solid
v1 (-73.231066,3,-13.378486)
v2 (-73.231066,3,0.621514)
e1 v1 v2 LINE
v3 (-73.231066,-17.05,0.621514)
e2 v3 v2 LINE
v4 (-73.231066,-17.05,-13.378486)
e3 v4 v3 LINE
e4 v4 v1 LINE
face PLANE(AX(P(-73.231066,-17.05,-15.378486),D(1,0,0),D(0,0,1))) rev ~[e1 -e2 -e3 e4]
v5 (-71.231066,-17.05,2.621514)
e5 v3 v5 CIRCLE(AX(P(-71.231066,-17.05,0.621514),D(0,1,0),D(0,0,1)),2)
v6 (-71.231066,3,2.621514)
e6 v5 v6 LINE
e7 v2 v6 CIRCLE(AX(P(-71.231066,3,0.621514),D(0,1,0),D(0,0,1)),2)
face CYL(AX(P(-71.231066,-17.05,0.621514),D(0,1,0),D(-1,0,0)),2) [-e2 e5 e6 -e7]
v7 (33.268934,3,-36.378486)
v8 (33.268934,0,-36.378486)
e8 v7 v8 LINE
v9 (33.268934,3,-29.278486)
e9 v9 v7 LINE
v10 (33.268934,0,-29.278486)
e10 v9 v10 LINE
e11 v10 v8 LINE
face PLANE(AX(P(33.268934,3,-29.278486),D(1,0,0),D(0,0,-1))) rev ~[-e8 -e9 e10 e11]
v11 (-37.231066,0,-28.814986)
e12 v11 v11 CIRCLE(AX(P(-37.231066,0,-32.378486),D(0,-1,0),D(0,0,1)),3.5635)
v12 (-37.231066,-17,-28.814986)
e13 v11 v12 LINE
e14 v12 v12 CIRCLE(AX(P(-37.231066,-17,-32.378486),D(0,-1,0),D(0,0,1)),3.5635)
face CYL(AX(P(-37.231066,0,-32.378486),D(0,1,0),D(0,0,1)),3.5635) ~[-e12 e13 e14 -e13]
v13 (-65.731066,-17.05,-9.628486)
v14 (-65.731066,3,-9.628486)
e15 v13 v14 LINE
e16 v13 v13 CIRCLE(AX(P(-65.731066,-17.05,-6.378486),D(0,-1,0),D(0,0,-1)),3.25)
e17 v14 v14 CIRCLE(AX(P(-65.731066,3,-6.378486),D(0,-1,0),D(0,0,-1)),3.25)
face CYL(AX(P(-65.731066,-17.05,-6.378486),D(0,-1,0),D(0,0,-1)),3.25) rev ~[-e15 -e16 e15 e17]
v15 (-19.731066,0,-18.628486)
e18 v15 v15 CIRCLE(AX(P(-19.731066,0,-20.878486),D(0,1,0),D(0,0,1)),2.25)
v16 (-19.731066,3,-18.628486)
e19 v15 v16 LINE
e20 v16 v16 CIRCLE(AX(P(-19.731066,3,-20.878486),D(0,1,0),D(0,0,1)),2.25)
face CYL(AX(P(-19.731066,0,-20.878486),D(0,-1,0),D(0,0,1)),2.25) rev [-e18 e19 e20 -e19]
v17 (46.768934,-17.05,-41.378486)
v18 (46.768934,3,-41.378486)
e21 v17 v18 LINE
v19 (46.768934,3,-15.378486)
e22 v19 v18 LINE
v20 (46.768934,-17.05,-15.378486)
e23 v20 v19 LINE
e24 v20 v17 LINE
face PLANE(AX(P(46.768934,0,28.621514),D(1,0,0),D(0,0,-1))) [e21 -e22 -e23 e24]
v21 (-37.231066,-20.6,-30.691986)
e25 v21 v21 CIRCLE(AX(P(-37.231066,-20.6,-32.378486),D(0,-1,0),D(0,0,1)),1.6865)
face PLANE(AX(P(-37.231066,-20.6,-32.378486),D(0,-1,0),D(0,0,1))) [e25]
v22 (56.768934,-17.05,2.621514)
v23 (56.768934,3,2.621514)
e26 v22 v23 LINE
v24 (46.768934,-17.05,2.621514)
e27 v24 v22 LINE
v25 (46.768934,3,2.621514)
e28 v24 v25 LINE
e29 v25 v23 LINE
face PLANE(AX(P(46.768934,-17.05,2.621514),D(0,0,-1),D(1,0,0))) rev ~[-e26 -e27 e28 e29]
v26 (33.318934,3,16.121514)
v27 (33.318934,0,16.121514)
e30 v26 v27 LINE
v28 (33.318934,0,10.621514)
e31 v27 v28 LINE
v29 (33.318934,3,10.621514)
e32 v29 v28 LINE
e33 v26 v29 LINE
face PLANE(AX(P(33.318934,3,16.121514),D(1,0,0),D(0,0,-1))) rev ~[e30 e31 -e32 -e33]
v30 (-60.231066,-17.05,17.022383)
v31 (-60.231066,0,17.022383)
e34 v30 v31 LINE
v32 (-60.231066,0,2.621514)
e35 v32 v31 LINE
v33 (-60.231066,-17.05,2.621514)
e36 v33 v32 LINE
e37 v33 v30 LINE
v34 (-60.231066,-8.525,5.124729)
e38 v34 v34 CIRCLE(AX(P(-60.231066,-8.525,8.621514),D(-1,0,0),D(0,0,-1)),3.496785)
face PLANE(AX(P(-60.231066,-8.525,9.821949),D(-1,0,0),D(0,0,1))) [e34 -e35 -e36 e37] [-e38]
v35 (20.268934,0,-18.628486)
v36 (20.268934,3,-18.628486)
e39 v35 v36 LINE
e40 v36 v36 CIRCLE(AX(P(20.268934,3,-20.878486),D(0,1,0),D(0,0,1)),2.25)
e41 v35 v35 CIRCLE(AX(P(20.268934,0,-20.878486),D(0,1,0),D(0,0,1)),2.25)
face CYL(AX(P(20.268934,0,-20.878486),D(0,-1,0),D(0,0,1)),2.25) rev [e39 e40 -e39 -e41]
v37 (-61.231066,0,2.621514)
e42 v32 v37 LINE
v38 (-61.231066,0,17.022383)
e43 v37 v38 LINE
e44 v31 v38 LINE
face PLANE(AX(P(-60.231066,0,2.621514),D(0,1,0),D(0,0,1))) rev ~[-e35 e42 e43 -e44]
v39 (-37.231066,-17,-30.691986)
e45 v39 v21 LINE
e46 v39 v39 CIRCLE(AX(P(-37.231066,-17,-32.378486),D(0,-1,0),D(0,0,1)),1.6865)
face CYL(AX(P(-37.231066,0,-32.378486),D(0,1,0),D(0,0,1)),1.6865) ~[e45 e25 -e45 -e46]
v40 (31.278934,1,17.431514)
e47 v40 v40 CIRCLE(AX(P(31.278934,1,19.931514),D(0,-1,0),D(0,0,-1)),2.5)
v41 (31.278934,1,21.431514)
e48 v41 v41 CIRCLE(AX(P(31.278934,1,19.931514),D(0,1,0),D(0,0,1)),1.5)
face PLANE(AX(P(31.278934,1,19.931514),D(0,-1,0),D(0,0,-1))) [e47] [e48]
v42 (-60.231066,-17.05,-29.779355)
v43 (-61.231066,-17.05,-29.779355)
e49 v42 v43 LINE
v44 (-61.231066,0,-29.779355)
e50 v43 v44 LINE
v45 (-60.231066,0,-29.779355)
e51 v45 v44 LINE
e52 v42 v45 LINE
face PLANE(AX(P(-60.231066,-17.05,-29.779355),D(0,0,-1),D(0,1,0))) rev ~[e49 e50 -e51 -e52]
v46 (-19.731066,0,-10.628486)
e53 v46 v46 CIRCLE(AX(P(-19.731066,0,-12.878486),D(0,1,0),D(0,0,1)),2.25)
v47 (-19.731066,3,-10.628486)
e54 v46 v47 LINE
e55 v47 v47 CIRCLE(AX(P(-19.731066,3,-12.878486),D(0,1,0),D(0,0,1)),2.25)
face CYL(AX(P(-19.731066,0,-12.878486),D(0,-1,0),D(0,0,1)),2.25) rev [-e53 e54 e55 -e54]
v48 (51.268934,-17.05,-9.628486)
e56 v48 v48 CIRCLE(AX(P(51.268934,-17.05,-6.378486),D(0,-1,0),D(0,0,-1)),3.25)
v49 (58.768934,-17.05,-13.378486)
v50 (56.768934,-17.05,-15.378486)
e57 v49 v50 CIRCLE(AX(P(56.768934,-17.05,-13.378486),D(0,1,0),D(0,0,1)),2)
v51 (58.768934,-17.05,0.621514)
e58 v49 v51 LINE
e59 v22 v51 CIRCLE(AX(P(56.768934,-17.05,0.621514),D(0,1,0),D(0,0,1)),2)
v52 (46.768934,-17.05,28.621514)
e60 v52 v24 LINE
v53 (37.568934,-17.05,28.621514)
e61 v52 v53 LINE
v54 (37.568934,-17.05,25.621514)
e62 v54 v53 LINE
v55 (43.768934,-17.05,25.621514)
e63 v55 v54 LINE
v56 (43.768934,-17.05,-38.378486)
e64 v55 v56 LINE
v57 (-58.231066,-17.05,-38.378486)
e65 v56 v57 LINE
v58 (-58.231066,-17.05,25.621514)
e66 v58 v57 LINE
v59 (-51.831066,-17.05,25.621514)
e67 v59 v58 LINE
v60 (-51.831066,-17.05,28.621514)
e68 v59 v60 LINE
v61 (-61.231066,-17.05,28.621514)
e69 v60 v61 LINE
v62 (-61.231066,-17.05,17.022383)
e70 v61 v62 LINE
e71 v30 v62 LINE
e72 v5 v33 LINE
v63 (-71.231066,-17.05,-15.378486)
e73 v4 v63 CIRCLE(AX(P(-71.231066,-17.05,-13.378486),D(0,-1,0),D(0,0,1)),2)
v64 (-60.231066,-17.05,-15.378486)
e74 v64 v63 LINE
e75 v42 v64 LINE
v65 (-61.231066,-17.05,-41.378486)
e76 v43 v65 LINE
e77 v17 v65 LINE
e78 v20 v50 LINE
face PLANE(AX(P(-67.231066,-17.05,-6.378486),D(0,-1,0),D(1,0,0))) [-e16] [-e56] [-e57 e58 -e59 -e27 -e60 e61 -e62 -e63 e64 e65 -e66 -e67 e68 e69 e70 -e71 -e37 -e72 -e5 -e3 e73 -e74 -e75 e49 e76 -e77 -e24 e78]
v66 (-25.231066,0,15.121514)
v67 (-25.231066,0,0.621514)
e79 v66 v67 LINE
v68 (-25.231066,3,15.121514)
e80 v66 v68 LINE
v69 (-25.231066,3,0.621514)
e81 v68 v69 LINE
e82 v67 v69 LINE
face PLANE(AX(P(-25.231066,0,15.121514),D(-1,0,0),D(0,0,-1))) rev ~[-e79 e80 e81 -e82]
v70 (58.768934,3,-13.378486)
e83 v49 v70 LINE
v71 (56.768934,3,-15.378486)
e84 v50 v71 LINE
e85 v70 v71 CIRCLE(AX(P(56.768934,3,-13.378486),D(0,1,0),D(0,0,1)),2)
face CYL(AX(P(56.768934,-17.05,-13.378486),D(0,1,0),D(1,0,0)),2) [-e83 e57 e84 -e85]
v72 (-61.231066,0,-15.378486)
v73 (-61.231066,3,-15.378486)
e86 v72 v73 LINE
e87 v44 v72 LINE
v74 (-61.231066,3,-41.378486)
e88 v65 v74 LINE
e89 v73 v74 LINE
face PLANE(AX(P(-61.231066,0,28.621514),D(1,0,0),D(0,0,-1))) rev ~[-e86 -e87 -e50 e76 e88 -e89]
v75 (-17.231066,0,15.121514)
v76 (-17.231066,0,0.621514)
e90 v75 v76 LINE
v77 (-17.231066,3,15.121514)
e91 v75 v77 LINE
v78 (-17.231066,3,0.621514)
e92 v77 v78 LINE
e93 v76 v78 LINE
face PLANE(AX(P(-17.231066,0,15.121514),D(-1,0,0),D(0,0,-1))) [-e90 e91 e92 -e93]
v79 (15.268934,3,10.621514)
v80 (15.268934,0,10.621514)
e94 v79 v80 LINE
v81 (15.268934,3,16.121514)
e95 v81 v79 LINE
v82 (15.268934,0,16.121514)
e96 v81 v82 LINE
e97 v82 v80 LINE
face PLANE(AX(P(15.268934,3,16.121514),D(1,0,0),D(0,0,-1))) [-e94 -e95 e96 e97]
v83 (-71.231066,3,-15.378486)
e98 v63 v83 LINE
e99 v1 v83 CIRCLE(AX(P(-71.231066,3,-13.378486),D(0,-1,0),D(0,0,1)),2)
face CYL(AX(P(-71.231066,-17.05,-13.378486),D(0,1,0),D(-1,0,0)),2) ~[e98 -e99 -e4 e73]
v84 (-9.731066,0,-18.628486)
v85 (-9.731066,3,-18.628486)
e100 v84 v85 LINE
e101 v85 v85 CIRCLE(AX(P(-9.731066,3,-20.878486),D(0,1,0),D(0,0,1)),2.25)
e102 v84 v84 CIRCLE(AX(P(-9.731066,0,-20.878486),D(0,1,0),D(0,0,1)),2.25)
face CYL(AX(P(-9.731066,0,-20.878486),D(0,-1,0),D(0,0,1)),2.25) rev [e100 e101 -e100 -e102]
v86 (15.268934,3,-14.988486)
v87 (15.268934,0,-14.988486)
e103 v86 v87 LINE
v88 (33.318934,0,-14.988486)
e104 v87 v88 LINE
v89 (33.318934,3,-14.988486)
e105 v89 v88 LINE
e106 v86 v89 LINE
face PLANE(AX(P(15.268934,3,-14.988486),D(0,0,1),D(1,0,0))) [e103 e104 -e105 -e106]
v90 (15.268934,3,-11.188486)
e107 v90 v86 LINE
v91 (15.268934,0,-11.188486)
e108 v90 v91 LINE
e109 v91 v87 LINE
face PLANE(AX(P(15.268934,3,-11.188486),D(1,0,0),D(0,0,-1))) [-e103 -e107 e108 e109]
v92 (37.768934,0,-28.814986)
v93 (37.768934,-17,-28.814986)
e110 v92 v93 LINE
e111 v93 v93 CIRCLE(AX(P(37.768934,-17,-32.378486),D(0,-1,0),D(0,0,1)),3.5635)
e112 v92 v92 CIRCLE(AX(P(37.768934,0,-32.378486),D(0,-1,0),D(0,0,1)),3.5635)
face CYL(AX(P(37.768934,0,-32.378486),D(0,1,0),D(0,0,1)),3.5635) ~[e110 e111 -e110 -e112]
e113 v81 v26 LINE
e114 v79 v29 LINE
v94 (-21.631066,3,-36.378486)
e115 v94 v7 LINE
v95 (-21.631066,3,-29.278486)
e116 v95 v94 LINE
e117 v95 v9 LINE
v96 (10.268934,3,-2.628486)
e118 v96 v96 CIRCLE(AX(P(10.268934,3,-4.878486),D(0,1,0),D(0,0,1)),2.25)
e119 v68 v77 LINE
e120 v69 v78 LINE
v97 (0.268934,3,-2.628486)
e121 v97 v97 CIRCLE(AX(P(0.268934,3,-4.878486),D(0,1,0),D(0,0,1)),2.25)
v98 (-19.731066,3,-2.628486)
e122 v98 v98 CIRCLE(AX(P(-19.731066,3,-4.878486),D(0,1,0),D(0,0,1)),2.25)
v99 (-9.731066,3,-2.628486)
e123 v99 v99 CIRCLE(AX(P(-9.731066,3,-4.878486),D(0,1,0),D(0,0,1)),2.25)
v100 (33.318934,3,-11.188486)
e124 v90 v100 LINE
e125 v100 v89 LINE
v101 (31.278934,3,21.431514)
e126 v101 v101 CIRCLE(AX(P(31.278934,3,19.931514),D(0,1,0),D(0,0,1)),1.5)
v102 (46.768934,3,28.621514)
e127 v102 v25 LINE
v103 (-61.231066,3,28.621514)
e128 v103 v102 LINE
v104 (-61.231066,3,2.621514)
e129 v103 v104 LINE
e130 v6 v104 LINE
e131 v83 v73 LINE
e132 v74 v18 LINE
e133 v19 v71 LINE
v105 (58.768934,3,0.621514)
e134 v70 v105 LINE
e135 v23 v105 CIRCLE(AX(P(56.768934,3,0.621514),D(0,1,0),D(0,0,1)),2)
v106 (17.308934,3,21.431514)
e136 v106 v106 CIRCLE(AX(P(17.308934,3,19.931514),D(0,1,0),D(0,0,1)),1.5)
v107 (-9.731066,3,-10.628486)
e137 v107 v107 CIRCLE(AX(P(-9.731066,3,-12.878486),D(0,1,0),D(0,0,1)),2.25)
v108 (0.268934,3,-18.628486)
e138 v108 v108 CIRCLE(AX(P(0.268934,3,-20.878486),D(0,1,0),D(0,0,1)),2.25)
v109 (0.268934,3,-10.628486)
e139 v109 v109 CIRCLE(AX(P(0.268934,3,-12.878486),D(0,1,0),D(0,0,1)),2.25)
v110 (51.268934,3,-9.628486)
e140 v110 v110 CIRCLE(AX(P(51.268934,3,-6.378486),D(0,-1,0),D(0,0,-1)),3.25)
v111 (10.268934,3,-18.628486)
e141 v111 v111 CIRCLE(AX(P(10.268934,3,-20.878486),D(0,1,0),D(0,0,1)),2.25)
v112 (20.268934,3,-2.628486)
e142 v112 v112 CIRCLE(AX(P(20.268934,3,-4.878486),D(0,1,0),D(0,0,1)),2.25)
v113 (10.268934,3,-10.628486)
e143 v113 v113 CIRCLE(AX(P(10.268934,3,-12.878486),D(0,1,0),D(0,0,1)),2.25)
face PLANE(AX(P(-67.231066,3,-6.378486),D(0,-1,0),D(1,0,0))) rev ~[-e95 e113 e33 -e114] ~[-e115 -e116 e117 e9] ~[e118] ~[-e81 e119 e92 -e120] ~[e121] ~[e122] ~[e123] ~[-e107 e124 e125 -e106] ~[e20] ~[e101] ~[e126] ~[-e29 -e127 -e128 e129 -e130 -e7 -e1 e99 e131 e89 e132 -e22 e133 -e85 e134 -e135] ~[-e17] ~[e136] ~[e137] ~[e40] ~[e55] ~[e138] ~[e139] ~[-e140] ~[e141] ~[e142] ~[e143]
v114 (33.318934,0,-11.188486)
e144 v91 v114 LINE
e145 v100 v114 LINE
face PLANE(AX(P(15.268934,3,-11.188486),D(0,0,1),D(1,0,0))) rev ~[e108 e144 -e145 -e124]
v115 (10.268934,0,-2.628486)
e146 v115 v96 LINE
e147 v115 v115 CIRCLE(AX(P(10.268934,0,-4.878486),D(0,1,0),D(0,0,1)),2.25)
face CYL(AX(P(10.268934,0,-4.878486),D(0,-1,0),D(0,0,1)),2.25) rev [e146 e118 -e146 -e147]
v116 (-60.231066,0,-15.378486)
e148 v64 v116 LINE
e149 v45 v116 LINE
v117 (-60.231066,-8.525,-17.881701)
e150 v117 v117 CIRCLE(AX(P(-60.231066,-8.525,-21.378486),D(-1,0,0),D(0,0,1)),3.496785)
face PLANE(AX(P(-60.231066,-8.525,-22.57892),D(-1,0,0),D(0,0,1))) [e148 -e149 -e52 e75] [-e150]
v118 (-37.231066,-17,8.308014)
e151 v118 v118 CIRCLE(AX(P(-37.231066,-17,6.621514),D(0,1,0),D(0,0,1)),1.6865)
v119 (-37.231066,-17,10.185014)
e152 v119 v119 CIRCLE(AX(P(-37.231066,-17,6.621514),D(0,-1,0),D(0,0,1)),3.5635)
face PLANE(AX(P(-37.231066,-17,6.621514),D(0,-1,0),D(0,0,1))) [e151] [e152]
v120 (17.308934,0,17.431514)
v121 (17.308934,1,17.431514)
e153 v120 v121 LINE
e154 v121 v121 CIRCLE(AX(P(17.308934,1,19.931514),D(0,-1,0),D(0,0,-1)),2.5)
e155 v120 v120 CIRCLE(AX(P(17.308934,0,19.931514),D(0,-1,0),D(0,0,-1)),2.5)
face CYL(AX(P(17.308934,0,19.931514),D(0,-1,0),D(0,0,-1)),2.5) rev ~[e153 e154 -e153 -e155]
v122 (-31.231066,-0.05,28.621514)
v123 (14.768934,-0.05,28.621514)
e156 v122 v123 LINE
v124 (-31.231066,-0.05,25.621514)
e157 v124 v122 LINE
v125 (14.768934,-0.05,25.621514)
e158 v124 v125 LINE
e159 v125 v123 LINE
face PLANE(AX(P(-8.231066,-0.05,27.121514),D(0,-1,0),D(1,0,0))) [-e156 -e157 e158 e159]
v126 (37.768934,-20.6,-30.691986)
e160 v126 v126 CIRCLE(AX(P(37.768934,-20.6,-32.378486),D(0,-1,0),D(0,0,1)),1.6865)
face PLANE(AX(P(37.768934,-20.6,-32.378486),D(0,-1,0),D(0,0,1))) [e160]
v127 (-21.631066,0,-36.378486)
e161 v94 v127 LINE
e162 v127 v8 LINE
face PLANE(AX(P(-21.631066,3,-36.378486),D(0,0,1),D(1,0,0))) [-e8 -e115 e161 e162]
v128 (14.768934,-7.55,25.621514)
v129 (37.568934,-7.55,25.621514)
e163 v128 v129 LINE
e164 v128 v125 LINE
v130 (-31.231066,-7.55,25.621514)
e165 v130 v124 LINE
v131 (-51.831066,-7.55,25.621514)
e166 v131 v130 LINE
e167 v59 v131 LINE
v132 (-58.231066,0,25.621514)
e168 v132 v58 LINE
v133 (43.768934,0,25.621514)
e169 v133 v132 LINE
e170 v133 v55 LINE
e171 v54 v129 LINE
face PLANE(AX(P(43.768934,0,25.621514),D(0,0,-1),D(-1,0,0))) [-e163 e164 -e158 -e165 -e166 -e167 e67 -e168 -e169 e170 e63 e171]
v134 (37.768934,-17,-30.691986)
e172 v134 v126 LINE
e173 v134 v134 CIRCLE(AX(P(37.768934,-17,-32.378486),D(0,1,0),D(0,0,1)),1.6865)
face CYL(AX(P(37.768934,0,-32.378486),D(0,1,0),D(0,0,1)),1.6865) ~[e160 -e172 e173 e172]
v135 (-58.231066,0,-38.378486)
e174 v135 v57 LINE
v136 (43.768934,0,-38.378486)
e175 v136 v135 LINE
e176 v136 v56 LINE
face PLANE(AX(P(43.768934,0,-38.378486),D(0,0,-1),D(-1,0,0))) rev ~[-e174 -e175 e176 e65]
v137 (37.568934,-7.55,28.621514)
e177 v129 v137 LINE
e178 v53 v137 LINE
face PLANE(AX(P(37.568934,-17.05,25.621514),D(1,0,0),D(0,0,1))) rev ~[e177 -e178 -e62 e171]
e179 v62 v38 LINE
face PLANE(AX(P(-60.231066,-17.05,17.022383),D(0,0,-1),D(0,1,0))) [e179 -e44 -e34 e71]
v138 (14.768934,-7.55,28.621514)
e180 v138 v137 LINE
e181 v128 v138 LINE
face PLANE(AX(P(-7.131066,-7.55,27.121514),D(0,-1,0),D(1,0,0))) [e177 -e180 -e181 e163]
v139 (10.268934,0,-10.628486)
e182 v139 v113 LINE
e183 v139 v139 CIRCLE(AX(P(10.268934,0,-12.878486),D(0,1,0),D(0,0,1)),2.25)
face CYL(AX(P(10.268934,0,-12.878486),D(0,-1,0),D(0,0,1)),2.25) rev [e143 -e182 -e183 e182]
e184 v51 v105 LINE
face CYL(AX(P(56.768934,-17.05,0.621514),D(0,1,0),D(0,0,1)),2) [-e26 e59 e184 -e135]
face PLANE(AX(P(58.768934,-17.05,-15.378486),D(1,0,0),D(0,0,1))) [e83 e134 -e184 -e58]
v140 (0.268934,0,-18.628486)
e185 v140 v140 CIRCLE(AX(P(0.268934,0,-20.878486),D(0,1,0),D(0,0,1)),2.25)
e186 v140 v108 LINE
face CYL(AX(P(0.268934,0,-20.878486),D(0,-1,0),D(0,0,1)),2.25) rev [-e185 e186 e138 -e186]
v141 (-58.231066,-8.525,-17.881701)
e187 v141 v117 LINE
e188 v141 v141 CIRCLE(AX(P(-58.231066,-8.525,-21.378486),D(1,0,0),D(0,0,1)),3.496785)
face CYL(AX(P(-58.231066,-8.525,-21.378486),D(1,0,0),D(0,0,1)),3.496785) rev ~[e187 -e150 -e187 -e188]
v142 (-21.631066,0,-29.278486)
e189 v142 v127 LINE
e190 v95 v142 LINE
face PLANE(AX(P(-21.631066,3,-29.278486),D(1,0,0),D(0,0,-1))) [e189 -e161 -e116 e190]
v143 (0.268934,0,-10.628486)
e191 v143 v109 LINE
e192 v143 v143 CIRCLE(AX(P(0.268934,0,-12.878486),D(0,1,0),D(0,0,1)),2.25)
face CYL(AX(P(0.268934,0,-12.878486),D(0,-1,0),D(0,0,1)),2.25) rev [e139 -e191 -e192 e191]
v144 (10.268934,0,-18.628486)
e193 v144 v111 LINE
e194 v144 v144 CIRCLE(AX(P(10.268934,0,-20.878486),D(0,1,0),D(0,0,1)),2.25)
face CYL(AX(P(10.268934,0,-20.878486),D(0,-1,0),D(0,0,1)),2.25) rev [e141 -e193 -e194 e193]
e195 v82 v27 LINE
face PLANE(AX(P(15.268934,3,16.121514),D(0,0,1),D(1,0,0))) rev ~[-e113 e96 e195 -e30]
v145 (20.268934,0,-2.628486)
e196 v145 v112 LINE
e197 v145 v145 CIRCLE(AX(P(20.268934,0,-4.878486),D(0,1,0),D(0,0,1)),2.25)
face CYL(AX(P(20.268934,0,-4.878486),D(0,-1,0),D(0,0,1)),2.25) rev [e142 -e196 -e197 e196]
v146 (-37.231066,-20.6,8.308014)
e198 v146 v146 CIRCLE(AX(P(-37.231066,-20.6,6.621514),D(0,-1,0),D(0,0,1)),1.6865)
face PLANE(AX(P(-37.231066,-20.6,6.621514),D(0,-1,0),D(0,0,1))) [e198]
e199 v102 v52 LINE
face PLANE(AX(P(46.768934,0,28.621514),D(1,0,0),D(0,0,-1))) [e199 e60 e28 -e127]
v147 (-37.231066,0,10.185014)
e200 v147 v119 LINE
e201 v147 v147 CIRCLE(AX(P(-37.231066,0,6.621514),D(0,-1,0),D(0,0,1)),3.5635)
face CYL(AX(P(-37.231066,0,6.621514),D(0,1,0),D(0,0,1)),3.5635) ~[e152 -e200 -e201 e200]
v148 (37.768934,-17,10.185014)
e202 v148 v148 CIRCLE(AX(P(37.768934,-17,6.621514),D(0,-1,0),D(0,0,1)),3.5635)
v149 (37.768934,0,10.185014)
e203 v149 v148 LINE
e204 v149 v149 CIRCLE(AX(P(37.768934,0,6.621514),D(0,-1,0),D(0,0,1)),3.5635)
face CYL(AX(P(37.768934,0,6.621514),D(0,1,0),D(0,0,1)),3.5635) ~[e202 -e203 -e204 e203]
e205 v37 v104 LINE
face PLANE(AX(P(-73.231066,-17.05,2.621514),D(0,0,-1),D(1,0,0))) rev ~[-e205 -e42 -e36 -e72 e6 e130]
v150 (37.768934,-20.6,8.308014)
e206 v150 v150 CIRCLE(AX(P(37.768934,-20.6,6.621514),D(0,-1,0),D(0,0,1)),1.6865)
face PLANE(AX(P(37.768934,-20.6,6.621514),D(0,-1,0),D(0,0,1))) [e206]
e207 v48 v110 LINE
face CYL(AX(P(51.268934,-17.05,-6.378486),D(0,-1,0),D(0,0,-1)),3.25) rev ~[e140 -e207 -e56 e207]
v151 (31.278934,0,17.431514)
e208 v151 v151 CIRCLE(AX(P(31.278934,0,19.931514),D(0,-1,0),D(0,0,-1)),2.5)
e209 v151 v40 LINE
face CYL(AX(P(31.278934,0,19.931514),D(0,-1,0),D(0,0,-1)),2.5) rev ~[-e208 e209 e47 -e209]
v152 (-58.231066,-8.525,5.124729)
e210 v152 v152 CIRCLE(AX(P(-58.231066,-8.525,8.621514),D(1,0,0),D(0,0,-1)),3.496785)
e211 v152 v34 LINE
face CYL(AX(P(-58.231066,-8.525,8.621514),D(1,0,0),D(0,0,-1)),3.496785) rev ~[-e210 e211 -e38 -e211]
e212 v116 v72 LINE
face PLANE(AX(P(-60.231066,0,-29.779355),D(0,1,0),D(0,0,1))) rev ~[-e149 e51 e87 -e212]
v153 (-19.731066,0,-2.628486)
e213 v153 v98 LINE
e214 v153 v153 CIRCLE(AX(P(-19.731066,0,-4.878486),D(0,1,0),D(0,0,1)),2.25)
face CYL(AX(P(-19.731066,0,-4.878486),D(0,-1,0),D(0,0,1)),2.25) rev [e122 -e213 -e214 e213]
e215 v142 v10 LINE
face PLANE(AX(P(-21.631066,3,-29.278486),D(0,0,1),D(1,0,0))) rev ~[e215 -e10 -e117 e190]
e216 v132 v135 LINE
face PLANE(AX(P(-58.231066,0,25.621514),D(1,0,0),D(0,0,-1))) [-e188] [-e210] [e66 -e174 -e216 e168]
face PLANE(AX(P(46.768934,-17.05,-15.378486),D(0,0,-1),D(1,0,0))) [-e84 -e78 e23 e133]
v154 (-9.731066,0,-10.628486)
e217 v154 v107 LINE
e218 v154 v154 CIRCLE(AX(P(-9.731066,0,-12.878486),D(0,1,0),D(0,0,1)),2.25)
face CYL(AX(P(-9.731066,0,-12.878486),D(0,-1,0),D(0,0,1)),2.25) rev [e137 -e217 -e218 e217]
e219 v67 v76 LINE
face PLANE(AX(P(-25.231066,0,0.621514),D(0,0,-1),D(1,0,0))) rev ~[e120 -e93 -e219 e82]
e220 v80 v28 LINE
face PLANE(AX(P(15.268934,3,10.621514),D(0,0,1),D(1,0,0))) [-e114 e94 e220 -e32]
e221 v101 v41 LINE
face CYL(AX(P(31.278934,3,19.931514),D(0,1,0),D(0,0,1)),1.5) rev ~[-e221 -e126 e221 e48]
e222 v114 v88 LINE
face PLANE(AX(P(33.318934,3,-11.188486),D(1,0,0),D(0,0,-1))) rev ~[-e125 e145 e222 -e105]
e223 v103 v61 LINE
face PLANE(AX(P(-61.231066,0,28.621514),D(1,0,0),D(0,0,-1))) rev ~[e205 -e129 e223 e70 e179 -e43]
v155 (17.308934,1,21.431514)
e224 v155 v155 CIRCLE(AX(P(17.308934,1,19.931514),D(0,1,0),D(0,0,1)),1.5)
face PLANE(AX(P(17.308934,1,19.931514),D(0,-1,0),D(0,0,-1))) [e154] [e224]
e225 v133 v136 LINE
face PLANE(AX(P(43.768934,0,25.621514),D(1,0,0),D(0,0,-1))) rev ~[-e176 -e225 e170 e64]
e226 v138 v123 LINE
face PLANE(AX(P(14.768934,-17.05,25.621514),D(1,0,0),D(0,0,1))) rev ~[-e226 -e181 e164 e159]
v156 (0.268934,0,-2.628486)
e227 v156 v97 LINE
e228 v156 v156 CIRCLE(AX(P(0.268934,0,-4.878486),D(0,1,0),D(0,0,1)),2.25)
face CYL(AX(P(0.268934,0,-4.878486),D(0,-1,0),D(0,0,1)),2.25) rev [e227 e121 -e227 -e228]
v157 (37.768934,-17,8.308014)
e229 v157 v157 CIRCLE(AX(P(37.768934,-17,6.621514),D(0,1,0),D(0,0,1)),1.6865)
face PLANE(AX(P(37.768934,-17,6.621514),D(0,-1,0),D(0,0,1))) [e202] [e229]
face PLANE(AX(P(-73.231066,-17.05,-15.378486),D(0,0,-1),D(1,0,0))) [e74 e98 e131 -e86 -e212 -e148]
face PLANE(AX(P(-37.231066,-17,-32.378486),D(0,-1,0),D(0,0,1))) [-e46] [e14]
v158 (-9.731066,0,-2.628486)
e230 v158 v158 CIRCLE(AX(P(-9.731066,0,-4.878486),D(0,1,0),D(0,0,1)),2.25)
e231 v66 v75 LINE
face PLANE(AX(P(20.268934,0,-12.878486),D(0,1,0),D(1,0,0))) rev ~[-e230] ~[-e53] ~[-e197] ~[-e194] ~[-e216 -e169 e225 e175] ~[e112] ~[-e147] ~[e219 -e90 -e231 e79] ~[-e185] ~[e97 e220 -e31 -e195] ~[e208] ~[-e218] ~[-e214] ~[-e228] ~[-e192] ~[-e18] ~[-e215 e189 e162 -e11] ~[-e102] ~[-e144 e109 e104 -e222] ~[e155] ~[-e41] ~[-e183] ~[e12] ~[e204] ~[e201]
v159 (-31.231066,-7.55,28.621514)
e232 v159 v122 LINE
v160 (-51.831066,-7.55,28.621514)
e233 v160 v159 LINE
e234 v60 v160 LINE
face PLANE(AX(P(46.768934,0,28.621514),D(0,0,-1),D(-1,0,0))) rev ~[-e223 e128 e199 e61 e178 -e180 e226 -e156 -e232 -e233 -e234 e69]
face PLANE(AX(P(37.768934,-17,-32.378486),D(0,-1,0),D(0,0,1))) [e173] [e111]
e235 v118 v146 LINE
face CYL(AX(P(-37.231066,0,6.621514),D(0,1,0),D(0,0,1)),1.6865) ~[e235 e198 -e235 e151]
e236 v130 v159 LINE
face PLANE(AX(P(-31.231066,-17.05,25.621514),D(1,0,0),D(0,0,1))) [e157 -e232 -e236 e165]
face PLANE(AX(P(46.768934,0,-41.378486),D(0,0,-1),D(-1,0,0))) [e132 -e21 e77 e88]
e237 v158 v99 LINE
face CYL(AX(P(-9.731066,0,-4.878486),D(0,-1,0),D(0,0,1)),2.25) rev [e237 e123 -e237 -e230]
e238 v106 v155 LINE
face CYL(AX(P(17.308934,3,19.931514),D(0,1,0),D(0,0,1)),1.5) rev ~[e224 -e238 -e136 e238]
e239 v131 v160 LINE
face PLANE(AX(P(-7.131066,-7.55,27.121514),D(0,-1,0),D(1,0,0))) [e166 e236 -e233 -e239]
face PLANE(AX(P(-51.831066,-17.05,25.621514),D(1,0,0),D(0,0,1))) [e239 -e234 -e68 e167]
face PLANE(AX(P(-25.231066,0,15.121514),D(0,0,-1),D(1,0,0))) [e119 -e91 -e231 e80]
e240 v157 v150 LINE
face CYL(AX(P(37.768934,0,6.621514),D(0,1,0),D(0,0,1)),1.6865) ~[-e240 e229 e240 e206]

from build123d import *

# Parameters (mm, degrees)
SKETCH2_W           = 108
SKETCH2_H           = 70
SKETCH2_R           = 2.25
SKETCH2_W_2         = 8
SKETCH2_H_2         = 14.5
BOSS_EXTRUDE1_DEPTH = 3
SKETCH5_R           = 3.5635
SKETCH5_R_2         = 1.6865
BOSS_EXTRUDE2_DEPTH = 17
SKETCH6_R           = 1.6865
BOSS_EXTRUDE3_DEPTH = 20.6
SKETCH7_W           = 108
SKETCH7_H           = 70
SKETCH7_W_2         = 102
SKETCH7_H_2         = 64
BOSS_EXTRUDE4_DEPTH = 17.05
SKETCH8_W           = 89.4
SKETCH8_H           = 3
CUT_EXTRUDE1_DEPTH  = 9.5
SKETCH9_W           = 46
SKETCH9_H           = 3
CUT_EXTRUDE2_DEPTH  = 17
SKETCH10_W          = 54.9
SKETCH10_H          = 7.1
CUT_EXTRUDE3_DEPTH  = 78.578234855
SKETCH11_R          = 3.496784868
CUT_EXTRUDE4_DEPTH  = 115.723751218
CUT_EXTRUDE5_START  = -1
SKETCH12_W          = 14.400869084
SKETCH12_H          = 17.05
SKETCH12_R          = 3.496784868
CUT_EXTRUDE5_DEPTH  = 1
SKETCH14_R          = 1.5
SKETCH14_W          = 18.05
SKETCH14_H          = 3.8
SKETCH14_H_2        = 5.5
CUT_EXTRUDE7_DEPTH  = 78.578234855
SKETCH15_R          = 2.5
CUT_EXTRUDE10_DEPTH = 1
SKETCH17_W          = 12
SKETCH17_H          = 18
SKETCH17_R          = 3.25
BOSS_EXTRUDE5_DEPTH = 20.05
FILLET1_R           = 2


with BuildPart() as part:
    # Sketch2 → Boss-Extrude1 (new body)
    # profile 1 of 2: a face of its own
    with BuildSketch(Plane(origin=(0, 0, 0), x_dir=(1, 0, 0), z_dir=(0, 1, 0))):
        with Locations((-7.231065886, 6.378485879)):
            Rectangle(SKETCH2_W, SKETCH2_H)
        with Locations(Location((-19.731065886, 20.878485879, 0), (0, 0, 270))):
            Circle(SKETCH2_R, mode=Mode.SUBTRACT)
        with Locations(Location((-19.731065886, 12.878485879, 0), (0, 0, 270))):
            Circle(SKETCH2_R, mode=Mode.SUBTRACT)
        with Locations(Location((-19.731065886, 4.878485879, 0), (0, 0, 270))):
            Circle(SKETCH2_R, mode=Mode.SUBTRACT)
        with Locations(Location((-9.731065886, 20.878485879, 0), (0, 0, 270))):
            Circle(SKETCH2_R, mode=Mode.SUBTRACT)
        with Locations(Location((-9.731065886, 12.878485879, 0), (0, 0, 270))):
            Circle(SKETCH2_R, mode=Mode.SUBTRACT)
        with Locations(Location((-9.731065886, 4.878485879, 0), (0, 0, 270))):
            Circle(SKETCH2_R, mode=Mode.SUBTRACT)
        with Locations(Location((20.268934114, 20.878485879, 0), (0, 0, 270))):
            Circle(SKETCH2_R, mode=Mode.SUBTRACT)
        with Locations((20.268934114, 12.878485879)):
            Circle(SKETCH2_R, mode=Mode.SUBTRACT)
        with Locations(Location((0.268934114, 20.878485879, 0), (0, 0, 270))):
            Circle(SKETCH2_R, mode=Mode.SUBTRACT)
        with Locations(Location((10.268934114, 20.878485879, 0), (0, 0, 270))):
            Circle(SKETCH2_R, mode=Mode.SUBTRACT)
        with Locations(Location((0.268934114, 12.878485879, 0), (0, 0, 270))):
            Circle(SKETCH2_R, mode=Mode.SUBTRACT)
        with Locations(Location((10.268934114, 12.878485879, 0), (0, 0, 270))):
            Circle(SKETCH2_R, mode=Mode.SUBTRACT)
        with Locations(Location((0.268934114, 4.878485879, 0), (0, 0, 270))):
            Circle(SKETCH2_R, mode=Mode.SUBTRACT)
        with Locations(Location((10.268934114, 4.878485879, 0), (0, 0, 270))):
            Circle(SKETCH2_R, mode=Mode.SUBTRACT)
        with Locations(Location((20.268934114, 4.878485879, 0), (0, 0, 270))):
            Circle(SKETCH2_R, mode=Mode.SUBTRACT)
        with Locations((-21.231065886, -7.871514121)):
            Rectangle(SKETCH2_W_2, SKETCH2_H_2, mode=Mode.SUBTRACT)
    # profile 2 of 2: a face of its own
    with BuildSketch(Plane(origin=(0, 0, 0), x_dir=(1, 0, 0), z_dir=(0, 1, 0))):
        with Locations((20.268934114, 12.878485879)):
            Circle(SKETCH2_R)
    extrude(amount=BOSS_EXTRUDE1_DEPTH)

    # Sketch5 → Boss-Extrude2 (add)
    # profile 1 of 4: a face of its own
    with BuildSketch(Plane(origin=(0, 0, 0), x_dir=(-1, 0, 0), z_dir=(0, -1, 0))):
        with Locations(Location((37.231065886, 32.378485879, 0), (0, 0, 270))):
            Circle(SKETCH5_R)
        with Locations(Location((37.231065886, 32.378485879, 0), (0, 0, 90))):
            Circle(SKETCH5_R_2, mode=Mode.SUBTRACT)
    # profile 2 of 4: a face of its own
    with BuildSketch(Plane(origin=(0, 0, 0), x_dir=(-1, 0, 0), z_dir=(0, -1, 0))):
        with Locations(Location((-37.768934114, 32.378485879, 0), (0, 0, 270))):
            Circle(SKETCH5_R)
        with Locations(Location((-37.768934114, 32.378485879, 0), (0, 0, 90))):
            Circle(SKETCH5_R_2, mode=Mode.SUBTRACT)
    # profile 3 of 4: a face of its own
    with BuildSketch(Plane(origin=(0, 0, 0), x_dir=(-1, 0, 0), z_dir=(0, -1, 0))):
        with Locations(Location((-37.768934114, -6.621514121, 0), (0, 0, 270))):
            Circle(SKETCH5_R)
        with Locations(Location((-37.768934114, -6.621514121, 0), (0, 0, 90))):
            Circle(SKETCH5_R_2, mode=Mode.SUBTRACT)
    # profile 4 of 4: a face of its own
    with BuildSketch(Plane(origin=(0, 0, 0), x_dir=(-1, 0, 0), z_dir=(0, -1, 0))):
        with Locations(Location((37.231065886, -6.621514121, 0), (0, 0, 270))):
            Circle(SKETCH5_R)
        with Locations(Location((37.231065886, -6.621514121, 0), (0, 0, 90))):
            Circle(SKETCH5_R_2, mode=Mode.SUBTRACT)
    extrude(amount=BOSS_EXTRUDE2_DEPTH)

    # Sketch6 → Boss-Extrude3 (add)
    with BuildSketch(Plane(origin=(0, 0, 0), x_dir=(-1, 0, 0), z_dir=(0, -1, 0))):
        with Locations(Location((37.231065886, 32.378485879, 0), (0, 0, 270))):
            Circle(SKETCH6_R)
        with Locations(Location((-37.768934114, 32.378485879, 0), (0, 0, 270))):
            Circle(SKETCH6_R)
        with Locations(Location((-37.768934114, -6.621514121, 0), (0, 0, 270))):
            Circle(SKETCH6_R)
        with Locations(Location((37.231065886, -6.621514121, 0), (0, 0, 270))):
            Circle(SKETCH6_R)
    extrude(amount=BOSS_EXTRUDE3_DEPTH)

    # Sketch7 → Boss-Extrude4 (add)
    with BuildSketch(Plane(origin=(0, 0, 0), x_dir=(-1, 0, 0), z_dir=(0, -1, 0))):
        with Locations((7.231065886, 6.378485879)):
            Rectangle(SKETCH7_W, SKETCH7_H)
        with Locations((7.231065886, 6.378485879)):
            Rectangle(SKETCH7_W_2, SKETCH7_H_2, mode=Mode.SUBTRACT)
    extrude(amount=BOSS_EXTRUDE4_DEPTH)

    # Sketch8 → Cut-Extrude1 (cut)
    with BuildSketch(Plane.XZ.offset(17.05)):
        with Locations((-7.131065886, 27.121514121)):
            Rectangle(SKETCH8_W, SKETCH8_H)
    extrude(amount=-CUT_EXTRUDE1_DEPTH, mode=Mode.SUBTRACT)

    # Sketch9 → Cut-Extrude2 (cut)
    with BuildSketch(Plane.XZ.offset(17.05)):
        with Locations((-8.231065886, 27.121514121)):
            Rectangle(SKETCH9_W, SKETCH9_H)
    extrude(amount=-CUT_EXTRUDE2_DEPTH, mode=Mode.SUBTRACT)

    # Sketch10 → Cut-Extrude3 (cut, through all)
    with BuildSketch(Plane(origin=(0, 3, 0), x_dir=(1, 0, 0), z_dir=(0, 1, 0))):
        with Locations((5.818934114, 32.828485879)):
            Rectangle(SKETCH10_W, SKETCH10_H)
    extrude(amount=-CUT_EXTRUDE3_DEPTH, mode=Mode.SUBTRACT)

    # Sketch11 → Cut-Extrude4 (cut, through all)
    with BuildSketch(Plane(origin=(-58.231065886, 0, 0), x_dir=(0, 0, -1), z_dir=(1, 0, 0))):
        with Locations((-8.621514121, -8.525)):
            Circle(SKETCH11_R)
        with Locations(Location((21.378485879, -8.525, 0), (0, 0, 180))):
            Circle(SKETCH11_R)
    extrude(amount=-CUT_EXTRUDE4_DEPTH, mode=Mode.SUBTRACT)

    # Sketch12 → Cut-Extrude5 (cut)
    # profile 1 of 2: a face of its own
    with BuildSketch(Plane.ZY.offset(61.231065886).offset(CUT_EXTRUDE5_START)):
        with Locations((-22.578920421, -8.525)):
            Rectangle(SKETCH12_W, SKETCH12_H)
        with Locations((-21.378485879, -8.525)):
            Circle(SKETCH12_R, mode=Mode.SUBTRACT)
    # profile 2 of 2: a face of its own
    with BuildSketch(Plane.ZY.offset(61.231065886).offset(CUT_EXTRUDE5_START)):
        with Locations((9.821948663, -8.525)):
            Rectangle(SKETCH12_W, SKETCH12_H)
        with Locations(Location((8.621514121, -8.525, 0), (0, 0, 180))):
            Circle(SKETCH12_R, mode=Mode.SUBTRACT)
    extrude(amount=CUT_EXTRUDE5_DEPTH, mode=Mode.SUBTRACT)

    # Sketch14 → Cut-Extrude7 (cut, through all)
    with BuildSketch(Plane(origin=(0, 3, 0), x_dir=(1, 0, 0), z_dir=(0, 1, 0))):
        with Locations(Location((31.278934114, -19.931514121, 0), (0, 0, 270))):
            Circle(SKETCH14_R)
        with Locations(Location((17.308934114, -19.931514121, 0), (0, 0, 270))):
            Circle(SKETCH14_R)
        with Locations((24.293934114, 13.088485879)):
            Rectangle(SKETCH14_W, SKETCH14_H)
        with Locations((24.293934114, -13.371514121)):
            Rectangle(SKETCH14_W, SKETCH14_H_2)
    extrude(amount=-CUT_EXTRUDE7_DEPTH, mode=Mode.SUBTRACT)

    # Sketch15 → Cut-Extrude10 (cut)
    with BuildSketch(Plane.XZ):
        with Locations(Location((17.308934114, 19.931514121, 0), (0, 0, 270))):
            Circle(SKETCH15_R)
        with Locations(Location((31.278934114, 19.931514121, 0), (0, 0, 270))):
            Circle(SKETCH15_R)
    extrude(amount=-CUT_EXTRUDE10_DEPTH, mode=Mode.SUBTRACT)

    # Sketch17 → Boss-Extrude5 (add)
    # profile 1 of 2: a face of its own
    with BuildSketch(Plane.XZ.offset(17.05)):
        with Locations((-67.231065886, -6.378485879)):
            Rectangle(SKETCH17_W, SKETCH17_H)
        with Locations(Location((-65.731065886, -6.378485879, 0), (0, 0, 270))):
            Circle(SKETCH17_R, mode=Mode.SUBTRACT)
    # profile 2 of 2: a face of its own
    with BuildSketch(Plane.XZ.offset(17.05)):
        with Locations((52.768934114, -6.378485879)):
            Rectangle(SKETCH17_W, SKETCH17_H)
        with Locations(Location((51.268934114, -6.378485879, 0), (0, 0, 270))):
            Circle(SKETCH17_R, mode=Mode.SUBTRACT)
    extrude(amount=-BOSS_EXTRUDE5_DEPTH)

    # Fillet1
    fillet1_edges = [part.edges().sort_by_distance(p)[0] for p in [
        (-73.231065886, -7.025, -15.378485879),
        (-73.231065886, -7.025, 2.621514121),
        (58.768934114, -7.025, -15.378485879),
        (58.768934114, -7.025, 2.621514121),
    ]]
    fillet(fillet1_edges, radius=FILLET1_R)


solid = part.part
